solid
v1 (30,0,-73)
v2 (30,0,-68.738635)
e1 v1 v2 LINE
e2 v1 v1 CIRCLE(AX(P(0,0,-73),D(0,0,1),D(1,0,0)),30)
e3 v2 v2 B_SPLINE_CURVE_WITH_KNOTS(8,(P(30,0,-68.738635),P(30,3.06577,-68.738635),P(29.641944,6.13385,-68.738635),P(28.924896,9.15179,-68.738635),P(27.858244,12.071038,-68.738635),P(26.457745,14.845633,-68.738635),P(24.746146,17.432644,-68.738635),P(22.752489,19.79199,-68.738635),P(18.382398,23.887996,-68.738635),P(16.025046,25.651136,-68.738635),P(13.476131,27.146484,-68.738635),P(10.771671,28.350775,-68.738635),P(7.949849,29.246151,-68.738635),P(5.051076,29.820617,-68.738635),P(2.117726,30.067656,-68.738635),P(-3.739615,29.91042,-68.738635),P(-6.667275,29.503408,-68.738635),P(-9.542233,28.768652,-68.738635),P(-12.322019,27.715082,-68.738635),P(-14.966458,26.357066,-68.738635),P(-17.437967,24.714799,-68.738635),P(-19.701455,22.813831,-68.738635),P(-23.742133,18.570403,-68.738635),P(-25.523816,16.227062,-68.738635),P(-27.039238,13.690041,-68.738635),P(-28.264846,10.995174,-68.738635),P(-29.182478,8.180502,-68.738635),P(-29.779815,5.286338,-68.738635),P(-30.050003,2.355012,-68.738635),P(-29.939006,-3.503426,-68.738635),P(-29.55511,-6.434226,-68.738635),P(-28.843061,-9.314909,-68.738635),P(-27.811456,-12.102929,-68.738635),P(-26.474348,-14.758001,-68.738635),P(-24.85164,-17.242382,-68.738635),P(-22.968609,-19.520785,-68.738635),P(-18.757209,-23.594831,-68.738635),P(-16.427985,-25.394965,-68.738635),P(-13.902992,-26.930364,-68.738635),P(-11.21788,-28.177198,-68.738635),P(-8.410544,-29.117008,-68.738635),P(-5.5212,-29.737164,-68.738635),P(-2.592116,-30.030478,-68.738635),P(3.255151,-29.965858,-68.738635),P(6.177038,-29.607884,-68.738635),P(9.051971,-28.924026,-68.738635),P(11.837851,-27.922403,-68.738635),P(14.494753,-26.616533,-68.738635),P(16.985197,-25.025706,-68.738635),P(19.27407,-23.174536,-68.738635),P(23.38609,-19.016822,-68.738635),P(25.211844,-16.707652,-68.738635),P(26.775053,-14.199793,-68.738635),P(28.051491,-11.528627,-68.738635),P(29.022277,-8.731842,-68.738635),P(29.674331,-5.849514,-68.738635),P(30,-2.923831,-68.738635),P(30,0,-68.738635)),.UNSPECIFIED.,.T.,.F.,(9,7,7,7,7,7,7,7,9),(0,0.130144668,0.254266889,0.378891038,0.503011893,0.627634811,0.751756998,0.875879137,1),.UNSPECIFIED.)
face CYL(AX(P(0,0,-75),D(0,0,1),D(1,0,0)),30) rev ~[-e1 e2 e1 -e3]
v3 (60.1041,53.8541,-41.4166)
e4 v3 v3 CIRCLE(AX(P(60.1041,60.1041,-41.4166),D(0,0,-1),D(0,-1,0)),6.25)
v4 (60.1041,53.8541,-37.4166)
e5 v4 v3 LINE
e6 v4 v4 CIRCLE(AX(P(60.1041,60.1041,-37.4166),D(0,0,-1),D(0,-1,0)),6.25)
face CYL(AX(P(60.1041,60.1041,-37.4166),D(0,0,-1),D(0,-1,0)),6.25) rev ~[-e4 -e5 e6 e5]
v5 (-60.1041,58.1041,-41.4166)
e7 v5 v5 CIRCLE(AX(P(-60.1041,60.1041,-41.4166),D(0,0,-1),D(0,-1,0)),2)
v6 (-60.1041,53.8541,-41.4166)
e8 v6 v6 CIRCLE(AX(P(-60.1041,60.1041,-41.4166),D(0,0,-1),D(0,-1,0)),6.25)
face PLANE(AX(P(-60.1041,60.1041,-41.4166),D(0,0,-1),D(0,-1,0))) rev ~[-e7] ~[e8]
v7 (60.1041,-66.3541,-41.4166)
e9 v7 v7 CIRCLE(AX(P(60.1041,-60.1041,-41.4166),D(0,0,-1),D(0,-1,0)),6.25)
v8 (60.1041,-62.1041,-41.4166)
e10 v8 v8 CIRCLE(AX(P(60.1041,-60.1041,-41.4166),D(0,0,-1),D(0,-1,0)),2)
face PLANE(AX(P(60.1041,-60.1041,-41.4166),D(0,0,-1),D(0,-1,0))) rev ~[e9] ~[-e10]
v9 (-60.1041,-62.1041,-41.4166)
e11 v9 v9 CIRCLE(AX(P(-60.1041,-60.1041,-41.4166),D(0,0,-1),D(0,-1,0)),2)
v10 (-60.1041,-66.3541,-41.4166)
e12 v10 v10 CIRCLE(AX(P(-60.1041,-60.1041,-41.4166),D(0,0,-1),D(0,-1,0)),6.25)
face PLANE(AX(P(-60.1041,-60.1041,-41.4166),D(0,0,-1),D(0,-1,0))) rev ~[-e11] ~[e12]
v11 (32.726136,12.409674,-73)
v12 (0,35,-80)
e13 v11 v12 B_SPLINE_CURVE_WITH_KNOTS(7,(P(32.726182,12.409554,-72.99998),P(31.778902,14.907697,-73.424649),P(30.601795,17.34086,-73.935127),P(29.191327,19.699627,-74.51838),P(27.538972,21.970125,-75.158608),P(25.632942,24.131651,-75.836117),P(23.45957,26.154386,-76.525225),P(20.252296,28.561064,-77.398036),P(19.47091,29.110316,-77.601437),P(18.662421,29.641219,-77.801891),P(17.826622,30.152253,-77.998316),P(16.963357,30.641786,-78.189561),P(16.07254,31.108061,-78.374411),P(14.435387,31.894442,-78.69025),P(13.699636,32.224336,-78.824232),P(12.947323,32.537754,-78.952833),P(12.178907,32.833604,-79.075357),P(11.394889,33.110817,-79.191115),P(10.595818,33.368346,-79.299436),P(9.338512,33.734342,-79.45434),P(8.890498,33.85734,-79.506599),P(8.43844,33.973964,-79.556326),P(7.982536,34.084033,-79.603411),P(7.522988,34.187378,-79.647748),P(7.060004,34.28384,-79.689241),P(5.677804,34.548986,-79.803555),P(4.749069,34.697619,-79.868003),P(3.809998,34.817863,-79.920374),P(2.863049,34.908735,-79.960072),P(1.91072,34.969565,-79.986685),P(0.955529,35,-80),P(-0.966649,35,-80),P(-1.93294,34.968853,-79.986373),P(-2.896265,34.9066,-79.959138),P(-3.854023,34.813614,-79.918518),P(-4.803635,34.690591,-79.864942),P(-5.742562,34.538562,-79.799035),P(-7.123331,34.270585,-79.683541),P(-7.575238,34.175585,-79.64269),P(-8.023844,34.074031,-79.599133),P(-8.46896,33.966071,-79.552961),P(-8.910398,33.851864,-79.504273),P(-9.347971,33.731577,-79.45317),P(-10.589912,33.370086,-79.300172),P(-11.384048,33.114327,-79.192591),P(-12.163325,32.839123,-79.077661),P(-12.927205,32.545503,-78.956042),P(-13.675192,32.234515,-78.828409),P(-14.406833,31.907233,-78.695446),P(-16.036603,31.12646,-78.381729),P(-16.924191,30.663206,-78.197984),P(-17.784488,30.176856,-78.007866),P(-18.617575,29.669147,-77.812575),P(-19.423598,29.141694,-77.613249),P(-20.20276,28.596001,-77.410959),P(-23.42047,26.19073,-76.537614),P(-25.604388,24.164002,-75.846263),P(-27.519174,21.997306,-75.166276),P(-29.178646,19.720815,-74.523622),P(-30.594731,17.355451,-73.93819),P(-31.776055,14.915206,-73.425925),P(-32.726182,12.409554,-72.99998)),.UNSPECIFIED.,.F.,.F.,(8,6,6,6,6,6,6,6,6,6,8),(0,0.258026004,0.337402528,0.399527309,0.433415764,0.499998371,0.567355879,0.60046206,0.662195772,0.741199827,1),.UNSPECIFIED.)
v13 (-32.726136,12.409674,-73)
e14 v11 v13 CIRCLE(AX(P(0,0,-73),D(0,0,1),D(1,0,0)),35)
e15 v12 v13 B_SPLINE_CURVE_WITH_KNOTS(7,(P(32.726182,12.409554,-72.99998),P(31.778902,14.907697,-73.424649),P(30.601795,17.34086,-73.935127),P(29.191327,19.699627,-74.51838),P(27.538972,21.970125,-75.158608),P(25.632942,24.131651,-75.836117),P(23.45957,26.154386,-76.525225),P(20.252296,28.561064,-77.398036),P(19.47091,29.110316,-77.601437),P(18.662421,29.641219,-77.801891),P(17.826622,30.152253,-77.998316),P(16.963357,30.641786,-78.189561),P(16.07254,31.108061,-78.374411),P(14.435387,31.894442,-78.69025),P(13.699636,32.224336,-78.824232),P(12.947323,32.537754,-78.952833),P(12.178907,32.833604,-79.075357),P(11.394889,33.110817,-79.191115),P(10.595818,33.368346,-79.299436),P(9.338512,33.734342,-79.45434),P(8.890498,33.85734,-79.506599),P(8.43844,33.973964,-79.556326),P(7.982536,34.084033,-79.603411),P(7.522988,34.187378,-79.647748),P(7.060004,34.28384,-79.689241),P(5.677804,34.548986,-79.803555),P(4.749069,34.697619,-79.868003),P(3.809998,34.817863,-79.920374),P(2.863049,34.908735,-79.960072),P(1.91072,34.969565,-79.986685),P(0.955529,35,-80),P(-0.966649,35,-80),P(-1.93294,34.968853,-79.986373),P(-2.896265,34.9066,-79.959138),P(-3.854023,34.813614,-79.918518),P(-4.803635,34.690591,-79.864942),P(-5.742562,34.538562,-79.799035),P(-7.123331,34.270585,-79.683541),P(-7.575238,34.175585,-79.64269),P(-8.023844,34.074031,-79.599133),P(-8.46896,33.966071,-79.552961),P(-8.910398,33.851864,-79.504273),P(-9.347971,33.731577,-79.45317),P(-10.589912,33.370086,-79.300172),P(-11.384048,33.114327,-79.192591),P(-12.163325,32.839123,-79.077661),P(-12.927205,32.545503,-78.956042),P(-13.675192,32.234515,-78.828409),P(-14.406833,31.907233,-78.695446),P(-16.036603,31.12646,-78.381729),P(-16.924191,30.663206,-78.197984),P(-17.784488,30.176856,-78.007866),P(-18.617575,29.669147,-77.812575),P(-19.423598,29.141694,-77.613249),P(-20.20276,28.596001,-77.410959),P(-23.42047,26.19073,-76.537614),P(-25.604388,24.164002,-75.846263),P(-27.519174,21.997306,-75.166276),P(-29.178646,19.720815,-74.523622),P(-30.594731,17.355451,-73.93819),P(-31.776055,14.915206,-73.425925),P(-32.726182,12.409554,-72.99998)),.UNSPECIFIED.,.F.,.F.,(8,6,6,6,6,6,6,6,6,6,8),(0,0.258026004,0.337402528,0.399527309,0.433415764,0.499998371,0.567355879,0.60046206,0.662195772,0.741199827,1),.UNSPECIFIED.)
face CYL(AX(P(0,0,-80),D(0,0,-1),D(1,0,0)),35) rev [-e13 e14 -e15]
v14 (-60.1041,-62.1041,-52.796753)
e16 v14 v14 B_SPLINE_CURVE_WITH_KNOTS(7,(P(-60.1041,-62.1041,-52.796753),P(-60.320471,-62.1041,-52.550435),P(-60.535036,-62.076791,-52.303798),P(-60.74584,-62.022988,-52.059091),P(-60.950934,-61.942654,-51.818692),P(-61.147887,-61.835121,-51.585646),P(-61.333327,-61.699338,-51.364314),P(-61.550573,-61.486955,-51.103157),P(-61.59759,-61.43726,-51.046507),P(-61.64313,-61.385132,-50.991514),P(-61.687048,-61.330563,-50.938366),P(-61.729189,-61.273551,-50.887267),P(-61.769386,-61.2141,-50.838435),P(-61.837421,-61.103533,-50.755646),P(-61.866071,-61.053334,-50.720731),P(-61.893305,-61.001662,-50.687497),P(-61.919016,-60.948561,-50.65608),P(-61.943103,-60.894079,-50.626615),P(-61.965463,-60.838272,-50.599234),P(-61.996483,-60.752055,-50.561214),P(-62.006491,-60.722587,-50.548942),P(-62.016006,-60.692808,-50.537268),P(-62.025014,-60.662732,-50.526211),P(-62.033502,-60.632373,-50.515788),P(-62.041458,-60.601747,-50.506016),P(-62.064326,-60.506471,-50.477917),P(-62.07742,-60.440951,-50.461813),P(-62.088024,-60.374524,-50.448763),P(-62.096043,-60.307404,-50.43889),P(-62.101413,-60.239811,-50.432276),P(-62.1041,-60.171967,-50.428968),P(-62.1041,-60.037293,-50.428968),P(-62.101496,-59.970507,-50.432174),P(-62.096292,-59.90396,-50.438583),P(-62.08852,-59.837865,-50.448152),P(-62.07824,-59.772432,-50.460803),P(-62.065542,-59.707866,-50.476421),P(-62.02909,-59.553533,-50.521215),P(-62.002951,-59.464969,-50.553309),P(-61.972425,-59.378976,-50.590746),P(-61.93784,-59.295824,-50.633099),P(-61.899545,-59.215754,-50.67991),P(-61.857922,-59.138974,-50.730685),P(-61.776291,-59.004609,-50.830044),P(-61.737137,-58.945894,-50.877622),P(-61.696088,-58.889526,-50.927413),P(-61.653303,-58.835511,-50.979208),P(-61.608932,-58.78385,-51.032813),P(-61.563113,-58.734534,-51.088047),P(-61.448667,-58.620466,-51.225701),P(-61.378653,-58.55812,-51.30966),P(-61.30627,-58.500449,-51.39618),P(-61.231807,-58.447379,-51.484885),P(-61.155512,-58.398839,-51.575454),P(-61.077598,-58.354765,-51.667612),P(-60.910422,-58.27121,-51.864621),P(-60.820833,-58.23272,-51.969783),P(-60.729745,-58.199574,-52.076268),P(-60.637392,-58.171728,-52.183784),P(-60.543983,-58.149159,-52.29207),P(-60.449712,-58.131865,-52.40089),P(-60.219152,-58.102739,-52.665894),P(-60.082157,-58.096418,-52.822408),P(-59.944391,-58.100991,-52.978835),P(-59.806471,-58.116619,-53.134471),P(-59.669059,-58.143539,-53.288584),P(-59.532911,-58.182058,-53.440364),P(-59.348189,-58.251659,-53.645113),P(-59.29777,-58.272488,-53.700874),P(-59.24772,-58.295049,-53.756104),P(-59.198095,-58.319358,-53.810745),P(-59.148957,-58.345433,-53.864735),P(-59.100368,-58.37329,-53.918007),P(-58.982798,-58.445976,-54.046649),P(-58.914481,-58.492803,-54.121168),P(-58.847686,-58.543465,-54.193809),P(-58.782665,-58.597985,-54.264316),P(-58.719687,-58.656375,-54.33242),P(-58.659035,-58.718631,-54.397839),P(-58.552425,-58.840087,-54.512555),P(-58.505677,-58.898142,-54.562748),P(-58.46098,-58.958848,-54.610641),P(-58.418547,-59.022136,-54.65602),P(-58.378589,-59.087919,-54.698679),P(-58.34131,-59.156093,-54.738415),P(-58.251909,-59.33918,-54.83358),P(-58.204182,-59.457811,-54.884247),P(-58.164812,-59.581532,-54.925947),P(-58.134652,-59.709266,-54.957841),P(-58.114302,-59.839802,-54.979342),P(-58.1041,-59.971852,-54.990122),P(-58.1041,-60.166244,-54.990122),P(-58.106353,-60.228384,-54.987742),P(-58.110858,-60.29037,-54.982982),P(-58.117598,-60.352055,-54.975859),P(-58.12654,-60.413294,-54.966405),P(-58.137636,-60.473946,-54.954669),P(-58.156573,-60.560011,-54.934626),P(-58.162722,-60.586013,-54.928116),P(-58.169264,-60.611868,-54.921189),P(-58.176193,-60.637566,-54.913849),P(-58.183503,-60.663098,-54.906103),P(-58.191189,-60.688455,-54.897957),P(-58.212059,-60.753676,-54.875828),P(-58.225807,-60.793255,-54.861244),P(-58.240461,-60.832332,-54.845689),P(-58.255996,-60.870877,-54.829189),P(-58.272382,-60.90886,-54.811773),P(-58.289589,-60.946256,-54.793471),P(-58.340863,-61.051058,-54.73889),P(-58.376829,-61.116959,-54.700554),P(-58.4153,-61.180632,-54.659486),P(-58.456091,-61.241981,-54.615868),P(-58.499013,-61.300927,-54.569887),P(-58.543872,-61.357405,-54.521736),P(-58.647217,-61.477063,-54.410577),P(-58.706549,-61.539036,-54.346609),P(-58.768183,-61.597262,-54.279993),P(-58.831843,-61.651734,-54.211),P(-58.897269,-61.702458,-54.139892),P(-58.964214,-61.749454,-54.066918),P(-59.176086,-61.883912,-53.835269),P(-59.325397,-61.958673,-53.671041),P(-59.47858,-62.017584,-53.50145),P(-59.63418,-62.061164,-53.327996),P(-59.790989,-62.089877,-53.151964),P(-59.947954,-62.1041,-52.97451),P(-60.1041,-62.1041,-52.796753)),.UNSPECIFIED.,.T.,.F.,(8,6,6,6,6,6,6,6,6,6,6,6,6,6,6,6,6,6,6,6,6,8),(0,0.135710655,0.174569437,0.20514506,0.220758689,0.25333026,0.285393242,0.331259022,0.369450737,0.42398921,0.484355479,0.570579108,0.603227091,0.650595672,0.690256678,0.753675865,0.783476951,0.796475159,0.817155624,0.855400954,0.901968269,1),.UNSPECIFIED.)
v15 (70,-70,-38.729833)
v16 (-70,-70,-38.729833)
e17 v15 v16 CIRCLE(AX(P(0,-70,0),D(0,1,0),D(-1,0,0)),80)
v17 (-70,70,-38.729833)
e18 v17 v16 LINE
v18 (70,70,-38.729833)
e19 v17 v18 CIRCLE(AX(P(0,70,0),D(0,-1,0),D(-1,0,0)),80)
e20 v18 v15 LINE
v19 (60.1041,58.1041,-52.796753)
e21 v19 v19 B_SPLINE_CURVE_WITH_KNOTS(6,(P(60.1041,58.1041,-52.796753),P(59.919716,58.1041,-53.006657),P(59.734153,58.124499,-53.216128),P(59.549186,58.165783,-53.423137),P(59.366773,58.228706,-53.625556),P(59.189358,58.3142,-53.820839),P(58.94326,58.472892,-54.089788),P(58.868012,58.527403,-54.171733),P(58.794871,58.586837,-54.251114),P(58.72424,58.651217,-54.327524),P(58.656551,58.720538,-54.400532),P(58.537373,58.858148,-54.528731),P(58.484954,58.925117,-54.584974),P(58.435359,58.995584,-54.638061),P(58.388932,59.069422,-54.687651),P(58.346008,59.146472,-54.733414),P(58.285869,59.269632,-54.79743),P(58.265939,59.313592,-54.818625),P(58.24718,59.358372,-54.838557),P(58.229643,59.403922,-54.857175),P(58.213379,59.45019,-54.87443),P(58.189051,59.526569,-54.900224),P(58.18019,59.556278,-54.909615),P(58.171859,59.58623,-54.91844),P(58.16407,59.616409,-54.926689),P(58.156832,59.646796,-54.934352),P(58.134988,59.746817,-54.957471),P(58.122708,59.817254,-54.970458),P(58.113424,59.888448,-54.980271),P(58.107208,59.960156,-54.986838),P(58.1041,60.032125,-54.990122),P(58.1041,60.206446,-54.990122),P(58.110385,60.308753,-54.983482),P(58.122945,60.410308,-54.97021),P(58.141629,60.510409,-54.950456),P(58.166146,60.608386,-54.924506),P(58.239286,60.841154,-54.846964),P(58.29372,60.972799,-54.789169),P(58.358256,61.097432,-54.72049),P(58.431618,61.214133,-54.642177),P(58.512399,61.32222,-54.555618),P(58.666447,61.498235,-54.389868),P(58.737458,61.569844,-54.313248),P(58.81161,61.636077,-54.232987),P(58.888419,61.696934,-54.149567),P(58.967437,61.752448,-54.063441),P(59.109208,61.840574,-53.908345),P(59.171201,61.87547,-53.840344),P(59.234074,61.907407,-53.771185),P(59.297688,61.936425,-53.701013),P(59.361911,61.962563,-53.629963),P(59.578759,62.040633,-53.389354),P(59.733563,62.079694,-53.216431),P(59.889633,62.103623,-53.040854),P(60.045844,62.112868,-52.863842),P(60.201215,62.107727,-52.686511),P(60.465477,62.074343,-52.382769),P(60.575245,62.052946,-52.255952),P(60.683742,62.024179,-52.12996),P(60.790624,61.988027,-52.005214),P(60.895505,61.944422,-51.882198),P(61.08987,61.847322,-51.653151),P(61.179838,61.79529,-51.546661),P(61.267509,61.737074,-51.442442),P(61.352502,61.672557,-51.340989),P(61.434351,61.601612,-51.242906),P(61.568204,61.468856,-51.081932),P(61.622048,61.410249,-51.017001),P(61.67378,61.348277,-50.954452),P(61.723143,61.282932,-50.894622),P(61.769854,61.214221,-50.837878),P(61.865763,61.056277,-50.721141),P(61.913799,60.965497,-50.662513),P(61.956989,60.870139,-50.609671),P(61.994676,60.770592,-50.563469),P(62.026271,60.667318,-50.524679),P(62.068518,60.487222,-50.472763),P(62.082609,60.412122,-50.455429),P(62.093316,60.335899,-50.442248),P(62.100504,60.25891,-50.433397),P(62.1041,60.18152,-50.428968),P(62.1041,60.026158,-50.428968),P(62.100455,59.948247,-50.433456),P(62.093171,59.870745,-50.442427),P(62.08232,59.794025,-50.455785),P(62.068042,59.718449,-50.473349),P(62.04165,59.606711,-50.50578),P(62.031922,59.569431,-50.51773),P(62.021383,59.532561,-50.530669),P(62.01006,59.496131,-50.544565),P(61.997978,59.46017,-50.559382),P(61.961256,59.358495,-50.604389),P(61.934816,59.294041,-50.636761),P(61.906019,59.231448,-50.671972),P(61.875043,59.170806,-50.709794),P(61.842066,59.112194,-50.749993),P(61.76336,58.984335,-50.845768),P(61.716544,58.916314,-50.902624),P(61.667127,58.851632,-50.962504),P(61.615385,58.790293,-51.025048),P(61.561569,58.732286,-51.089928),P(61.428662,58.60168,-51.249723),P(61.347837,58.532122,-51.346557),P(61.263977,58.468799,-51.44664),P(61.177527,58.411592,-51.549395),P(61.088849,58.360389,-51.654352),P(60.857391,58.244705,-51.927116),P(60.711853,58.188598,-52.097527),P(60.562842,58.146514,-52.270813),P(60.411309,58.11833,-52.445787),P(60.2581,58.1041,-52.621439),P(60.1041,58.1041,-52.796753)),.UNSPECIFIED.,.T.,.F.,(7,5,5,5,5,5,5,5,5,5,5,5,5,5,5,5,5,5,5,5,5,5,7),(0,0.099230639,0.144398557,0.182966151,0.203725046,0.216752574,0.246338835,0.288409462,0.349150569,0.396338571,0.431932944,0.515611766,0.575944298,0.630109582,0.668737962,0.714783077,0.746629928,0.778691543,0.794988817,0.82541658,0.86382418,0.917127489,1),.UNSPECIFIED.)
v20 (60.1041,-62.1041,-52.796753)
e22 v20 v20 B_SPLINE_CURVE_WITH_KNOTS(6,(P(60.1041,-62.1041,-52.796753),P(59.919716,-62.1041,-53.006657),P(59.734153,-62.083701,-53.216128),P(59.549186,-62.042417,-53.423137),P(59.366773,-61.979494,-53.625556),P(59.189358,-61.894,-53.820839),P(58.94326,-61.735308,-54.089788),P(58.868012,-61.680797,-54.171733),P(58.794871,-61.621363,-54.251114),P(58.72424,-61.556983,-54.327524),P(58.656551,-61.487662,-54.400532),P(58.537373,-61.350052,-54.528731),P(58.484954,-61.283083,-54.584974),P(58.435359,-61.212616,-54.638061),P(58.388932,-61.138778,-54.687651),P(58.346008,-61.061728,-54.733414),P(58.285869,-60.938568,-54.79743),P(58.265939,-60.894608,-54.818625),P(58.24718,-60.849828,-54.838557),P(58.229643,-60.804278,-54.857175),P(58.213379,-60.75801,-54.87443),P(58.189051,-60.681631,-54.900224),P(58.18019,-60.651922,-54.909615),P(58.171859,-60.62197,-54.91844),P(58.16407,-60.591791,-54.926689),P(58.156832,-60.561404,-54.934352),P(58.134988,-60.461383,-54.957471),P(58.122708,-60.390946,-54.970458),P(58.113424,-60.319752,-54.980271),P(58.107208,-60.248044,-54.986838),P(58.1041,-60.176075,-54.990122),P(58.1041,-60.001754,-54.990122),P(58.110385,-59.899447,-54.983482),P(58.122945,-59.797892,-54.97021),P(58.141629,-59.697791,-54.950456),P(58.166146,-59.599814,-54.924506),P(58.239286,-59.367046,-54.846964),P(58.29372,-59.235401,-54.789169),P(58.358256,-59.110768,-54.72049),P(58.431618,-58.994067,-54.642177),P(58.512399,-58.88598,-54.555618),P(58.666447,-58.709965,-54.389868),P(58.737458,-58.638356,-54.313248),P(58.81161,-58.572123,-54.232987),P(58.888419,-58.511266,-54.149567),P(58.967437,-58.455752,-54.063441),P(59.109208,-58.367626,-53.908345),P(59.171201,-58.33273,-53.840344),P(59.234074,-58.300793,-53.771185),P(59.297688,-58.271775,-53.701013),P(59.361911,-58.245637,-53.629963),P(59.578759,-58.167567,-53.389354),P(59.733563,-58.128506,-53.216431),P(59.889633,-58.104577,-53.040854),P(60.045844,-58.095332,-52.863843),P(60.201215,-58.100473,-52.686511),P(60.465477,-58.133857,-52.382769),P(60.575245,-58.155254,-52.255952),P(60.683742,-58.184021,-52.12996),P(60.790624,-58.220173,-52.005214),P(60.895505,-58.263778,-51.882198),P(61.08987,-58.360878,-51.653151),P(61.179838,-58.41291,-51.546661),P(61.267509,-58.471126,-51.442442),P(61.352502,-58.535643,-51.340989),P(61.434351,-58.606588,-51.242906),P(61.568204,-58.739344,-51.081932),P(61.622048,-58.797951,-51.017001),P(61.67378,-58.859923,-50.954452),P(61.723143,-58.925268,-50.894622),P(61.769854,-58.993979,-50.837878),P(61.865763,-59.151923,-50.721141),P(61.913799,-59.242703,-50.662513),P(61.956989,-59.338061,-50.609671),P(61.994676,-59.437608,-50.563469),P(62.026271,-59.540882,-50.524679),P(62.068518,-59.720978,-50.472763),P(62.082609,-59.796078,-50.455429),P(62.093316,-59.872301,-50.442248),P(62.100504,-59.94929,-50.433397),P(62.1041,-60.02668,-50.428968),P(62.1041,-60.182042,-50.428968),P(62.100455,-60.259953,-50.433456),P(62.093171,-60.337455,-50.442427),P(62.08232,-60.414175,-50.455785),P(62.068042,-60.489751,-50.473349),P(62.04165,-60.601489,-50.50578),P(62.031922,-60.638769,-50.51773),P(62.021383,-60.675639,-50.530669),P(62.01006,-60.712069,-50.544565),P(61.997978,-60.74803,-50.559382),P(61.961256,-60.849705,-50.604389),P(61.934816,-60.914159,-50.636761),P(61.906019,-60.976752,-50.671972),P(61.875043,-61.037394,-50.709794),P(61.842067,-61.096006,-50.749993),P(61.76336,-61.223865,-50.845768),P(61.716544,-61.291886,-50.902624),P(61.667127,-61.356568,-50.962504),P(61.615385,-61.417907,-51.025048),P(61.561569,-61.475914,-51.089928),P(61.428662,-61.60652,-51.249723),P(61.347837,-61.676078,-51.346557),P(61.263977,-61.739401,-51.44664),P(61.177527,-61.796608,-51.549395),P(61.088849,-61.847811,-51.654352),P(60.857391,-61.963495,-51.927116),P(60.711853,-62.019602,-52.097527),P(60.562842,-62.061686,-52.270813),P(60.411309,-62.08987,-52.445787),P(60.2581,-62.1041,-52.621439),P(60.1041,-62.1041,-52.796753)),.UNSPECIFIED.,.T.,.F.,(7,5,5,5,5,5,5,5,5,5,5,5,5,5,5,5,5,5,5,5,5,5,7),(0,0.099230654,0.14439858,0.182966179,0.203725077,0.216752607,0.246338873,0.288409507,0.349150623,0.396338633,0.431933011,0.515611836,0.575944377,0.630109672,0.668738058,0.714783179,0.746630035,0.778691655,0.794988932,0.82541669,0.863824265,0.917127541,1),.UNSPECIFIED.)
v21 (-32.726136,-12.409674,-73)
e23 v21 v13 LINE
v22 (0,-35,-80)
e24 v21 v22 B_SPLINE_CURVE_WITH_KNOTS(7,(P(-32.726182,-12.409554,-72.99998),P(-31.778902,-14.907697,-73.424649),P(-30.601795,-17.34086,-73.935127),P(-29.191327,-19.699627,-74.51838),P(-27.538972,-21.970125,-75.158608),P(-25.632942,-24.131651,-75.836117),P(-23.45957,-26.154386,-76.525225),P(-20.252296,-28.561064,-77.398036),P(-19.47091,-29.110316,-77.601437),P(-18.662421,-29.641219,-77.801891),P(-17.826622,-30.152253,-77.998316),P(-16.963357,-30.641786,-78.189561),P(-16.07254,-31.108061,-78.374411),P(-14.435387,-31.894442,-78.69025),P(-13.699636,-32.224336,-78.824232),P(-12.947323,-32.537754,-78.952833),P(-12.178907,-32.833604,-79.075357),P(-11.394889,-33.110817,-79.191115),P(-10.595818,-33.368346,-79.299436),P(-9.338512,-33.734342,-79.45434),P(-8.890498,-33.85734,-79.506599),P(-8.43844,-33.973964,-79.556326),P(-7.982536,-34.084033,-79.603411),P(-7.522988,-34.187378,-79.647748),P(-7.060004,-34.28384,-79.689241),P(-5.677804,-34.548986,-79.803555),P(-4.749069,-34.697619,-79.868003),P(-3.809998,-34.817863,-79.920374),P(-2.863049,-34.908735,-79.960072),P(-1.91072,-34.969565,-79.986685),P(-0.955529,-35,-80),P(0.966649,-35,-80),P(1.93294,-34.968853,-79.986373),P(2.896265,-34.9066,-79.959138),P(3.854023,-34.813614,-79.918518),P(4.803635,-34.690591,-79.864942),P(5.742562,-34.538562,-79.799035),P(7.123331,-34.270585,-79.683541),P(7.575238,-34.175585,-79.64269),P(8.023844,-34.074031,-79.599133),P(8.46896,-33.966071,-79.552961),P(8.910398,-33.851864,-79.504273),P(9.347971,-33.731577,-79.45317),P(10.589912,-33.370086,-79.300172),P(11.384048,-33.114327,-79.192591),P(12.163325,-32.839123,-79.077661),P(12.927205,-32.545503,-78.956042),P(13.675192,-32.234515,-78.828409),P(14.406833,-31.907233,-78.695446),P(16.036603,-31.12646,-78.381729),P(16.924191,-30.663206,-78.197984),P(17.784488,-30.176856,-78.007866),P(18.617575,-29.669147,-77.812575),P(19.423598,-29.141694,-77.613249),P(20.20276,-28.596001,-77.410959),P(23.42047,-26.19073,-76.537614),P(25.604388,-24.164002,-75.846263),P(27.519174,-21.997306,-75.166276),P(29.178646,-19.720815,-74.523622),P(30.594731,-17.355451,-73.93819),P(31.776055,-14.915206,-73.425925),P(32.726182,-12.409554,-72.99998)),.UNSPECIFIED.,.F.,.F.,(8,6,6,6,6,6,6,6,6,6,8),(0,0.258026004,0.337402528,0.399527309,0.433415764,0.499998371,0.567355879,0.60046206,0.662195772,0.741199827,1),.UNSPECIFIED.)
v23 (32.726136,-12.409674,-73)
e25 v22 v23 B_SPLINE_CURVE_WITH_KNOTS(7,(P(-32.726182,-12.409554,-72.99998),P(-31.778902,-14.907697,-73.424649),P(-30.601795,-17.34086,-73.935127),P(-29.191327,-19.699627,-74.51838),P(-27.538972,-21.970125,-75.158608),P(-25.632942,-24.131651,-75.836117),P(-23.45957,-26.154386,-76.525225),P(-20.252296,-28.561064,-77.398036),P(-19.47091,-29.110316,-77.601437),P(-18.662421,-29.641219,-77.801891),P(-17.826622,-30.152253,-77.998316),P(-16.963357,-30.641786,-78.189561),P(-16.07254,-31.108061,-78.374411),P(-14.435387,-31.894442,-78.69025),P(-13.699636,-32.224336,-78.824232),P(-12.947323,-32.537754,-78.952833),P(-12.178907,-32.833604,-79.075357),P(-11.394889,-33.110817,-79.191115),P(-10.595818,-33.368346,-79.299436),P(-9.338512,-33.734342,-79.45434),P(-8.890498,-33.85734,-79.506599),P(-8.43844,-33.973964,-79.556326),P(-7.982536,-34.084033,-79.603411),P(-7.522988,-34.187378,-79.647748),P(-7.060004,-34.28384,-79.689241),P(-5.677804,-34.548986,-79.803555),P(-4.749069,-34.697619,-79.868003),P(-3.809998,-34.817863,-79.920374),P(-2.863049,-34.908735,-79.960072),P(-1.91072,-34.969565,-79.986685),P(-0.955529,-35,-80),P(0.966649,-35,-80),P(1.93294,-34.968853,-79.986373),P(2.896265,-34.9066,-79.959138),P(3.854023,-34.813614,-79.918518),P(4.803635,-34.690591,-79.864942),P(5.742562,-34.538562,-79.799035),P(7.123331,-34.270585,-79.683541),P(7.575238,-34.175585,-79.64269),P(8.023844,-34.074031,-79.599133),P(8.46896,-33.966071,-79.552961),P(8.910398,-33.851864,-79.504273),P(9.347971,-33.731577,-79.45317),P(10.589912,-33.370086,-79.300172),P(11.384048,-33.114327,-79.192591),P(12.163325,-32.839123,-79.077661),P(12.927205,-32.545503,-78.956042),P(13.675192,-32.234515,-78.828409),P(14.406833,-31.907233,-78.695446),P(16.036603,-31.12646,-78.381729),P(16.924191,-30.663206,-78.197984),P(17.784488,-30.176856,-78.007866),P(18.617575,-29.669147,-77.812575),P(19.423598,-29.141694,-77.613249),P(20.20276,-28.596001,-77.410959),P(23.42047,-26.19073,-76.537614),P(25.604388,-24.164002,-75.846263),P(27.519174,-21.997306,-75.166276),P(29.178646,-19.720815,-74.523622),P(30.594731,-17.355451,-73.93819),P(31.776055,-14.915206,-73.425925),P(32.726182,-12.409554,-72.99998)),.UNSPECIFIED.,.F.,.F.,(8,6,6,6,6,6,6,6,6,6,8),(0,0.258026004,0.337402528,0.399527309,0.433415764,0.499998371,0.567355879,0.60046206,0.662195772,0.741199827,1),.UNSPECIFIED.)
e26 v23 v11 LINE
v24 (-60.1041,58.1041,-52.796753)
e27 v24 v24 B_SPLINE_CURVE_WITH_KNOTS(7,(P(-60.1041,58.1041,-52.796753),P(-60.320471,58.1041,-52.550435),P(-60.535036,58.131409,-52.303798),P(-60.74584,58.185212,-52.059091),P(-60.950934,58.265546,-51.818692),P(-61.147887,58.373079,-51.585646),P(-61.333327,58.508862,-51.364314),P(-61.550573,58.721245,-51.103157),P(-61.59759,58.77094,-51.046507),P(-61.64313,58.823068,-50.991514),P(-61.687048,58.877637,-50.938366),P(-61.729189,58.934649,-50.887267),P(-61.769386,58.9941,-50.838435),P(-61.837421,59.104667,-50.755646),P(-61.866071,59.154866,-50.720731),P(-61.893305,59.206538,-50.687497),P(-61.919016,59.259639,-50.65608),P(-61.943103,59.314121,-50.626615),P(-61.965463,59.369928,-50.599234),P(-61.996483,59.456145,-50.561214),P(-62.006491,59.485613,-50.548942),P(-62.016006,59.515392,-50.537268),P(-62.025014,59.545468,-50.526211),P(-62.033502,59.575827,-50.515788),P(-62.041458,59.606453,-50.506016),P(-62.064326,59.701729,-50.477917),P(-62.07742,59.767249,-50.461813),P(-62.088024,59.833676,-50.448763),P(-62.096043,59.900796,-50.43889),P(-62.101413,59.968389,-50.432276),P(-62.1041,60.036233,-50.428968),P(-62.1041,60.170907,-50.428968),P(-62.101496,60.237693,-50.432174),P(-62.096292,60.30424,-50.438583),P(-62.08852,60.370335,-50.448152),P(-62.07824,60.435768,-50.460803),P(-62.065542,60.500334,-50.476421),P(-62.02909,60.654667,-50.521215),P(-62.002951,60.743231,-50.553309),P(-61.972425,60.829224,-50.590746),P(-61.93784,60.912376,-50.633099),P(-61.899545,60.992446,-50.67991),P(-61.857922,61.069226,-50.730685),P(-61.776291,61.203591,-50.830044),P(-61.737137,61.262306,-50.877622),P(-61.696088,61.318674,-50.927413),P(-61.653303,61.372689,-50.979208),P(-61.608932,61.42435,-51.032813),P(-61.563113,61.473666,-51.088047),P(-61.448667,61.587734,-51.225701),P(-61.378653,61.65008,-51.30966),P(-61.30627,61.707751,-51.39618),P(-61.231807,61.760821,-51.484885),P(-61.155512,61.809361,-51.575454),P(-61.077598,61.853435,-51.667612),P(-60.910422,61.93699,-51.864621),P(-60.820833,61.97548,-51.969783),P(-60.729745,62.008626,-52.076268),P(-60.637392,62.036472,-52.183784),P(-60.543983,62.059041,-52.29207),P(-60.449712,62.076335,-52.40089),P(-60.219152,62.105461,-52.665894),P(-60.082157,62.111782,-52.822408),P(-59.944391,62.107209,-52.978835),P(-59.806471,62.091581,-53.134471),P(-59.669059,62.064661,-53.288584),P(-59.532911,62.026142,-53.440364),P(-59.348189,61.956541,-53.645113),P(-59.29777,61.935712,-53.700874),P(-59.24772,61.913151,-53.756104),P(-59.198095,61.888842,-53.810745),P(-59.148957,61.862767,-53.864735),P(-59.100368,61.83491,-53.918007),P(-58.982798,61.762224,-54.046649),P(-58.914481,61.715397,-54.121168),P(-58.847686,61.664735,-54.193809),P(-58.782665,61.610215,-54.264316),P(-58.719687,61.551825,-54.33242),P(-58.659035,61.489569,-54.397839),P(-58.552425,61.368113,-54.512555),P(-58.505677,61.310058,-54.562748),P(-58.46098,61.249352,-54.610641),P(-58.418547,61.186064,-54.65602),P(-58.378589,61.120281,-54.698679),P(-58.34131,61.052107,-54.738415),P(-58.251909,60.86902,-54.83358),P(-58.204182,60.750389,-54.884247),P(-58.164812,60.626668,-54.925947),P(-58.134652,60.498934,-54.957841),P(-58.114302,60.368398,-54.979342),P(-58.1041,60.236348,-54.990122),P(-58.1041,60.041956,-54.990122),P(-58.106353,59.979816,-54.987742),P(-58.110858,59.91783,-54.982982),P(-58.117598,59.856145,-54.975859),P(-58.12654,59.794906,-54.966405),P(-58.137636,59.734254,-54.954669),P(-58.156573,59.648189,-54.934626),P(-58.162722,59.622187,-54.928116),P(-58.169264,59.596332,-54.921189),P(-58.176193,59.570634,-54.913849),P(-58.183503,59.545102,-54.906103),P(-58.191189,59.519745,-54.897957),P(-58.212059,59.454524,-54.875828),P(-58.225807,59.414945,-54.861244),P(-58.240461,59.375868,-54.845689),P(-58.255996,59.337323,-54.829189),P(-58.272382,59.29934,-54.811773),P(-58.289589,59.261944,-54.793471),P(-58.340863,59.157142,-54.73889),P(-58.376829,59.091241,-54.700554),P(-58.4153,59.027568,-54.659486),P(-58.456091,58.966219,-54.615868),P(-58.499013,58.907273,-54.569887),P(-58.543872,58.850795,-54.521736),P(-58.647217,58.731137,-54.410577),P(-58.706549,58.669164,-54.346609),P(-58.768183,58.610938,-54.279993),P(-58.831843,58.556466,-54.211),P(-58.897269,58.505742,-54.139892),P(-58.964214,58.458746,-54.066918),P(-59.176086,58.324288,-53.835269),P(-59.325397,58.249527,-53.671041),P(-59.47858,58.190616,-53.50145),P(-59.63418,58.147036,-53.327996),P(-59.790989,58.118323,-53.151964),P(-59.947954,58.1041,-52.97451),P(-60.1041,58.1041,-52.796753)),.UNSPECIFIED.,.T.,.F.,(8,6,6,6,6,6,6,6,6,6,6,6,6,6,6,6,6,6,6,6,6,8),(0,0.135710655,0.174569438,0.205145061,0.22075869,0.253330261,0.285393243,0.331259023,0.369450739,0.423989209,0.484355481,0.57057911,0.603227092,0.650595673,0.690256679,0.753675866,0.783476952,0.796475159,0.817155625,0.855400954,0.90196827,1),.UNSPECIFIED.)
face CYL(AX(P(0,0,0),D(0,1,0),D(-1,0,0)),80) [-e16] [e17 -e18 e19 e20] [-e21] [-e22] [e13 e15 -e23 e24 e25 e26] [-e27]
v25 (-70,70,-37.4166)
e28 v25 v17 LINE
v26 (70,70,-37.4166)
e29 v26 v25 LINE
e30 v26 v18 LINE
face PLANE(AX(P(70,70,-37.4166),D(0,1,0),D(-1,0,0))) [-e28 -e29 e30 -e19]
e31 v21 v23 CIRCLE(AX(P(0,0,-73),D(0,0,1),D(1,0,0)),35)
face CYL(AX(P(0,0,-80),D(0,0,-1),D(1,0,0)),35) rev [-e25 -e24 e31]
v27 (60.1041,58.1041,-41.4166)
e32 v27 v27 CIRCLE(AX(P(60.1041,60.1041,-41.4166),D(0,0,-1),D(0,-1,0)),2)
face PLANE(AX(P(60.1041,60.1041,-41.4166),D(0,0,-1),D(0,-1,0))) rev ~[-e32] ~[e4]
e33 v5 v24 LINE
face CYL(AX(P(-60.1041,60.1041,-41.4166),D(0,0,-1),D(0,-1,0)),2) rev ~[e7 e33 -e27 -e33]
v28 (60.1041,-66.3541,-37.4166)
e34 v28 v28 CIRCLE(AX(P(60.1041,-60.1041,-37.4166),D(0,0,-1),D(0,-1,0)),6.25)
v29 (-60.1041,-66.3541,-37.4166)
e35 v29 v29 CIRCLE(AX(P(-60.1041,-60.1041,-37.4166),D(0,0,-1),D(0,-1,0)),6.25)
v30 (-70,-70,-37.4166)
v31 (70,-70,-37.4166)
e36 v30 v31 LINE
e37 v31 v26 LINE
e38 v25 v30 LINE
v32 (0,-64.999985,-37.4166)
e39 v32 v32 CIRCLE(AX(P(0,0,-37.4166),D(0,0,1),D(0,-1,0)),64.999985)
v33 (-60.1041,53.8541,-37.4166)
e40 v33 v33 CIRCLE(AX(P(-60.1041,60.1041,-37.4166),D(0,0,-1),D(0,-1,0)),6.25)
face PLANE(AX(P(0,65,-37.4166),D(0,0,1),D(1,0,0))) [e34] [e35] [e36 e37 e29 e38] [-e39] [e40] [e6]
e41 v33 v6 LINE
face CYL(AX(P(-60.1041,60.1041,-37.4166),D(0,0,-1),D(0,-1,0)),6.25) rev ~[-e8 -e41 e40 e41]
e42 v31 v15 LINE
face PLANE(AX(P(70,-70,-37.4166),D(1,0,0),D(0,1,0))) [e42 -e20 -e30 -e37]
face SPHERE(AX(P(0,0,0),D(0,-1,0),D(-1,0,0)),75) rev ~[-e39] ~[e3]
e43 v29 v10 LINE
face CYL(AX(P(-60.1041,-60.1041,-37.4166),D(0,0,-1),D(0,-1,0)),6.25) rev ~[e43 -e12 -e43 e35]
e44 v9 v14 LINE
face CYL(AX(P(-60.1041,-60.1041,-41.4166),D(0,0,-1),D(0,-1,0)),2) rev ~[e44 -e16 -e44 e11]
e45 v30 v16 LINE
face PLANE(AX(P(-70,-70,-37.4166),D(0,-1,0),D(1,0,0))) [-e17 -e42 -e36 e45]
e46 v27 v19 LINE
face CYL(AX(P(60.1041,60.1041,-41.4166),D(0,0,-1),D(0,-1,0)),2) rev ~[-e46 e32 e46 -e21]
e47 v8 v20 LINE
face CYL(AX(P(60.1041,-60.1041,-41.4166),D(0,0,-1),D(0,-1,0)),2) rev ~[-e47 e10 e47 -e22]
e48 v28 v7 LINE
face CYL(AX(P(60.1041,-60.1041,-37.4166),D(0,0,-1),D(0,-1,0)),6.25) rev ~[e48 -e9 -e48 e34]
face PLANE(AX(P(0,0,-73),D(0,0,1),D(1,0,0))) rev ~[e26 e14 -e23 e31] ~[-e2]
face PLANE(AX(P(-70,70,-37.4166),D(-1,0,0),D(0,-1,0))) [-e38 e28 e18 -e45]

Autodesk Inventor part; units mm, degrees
sketch "Sketch1" plane through (0, 0, 0) normal (0, 0, 1) x (1, 0, 0)
  line L0 (65, -65) -> (-65, -65)
  line L1 (-65, -65) -> (-65, 65)
  line L2 (-65, 65) -> (65, 65)
  line L3 (65, 65) -> (65, -65)
  line L4 (65, -65) -> (-65, 65) construction
  line L5 (-65, -65) -> (65, 65) construction
  point P0 (0, 0)
  dimension "d0" = 130
  dimension "d1" = 130
extrude "Extrusion1" add sketch "Sketch1" against normal blind 100
sketch "Sketch2" plane through (0, 0, 0) normal (0, 0, 1) x (1, 0, 0)
  arc A0 (0, 75) -> (0, -75) centre (0, 0) ccw
  line L0 (0, 0) -> (0, 75) construction
  line L1 (0, 0) -> (75, 0) construction
  line L2 (0, 0) -> (0, -75) construction
  line L3 (0, 75) -> (0, -75)
  dimension "d4" = 75
  dimension "d5" = 90
  dimension "d6" = 180
revolve "Revolution1" cut sketch "Sketch2" angle 180 about axis through (0, 75, 0) along (0, -1, 0)
ref_plane "Work Plane1" through (0, 65, -37.4166) normal (0, 0, 1) x (1, 0, 0)
sketch "Sketch3" plane through (0, 65, -37.4166) normal (0, 0, 1) x (1, 0, 0)
  line L0 (-65, -130) -> (65, -130)
  line L1 (65, -130) -> (65, 0)
  line L2 (65, 0) -> (-65, 0)
  line L3 (-65, 0) -> (-65, -130)
  line L4 (-65, -130) -> (65, 0) construction
  line L5 (65, -130) -> (-65, 0) construction
  point P0 (0, -65)
  dimension "d8" = 130
  dimension "d9" = 130
extrude "Extrusion2" cut sketch "Sketch3" along normal blind 100
sketch "Sketch4" plane through (0, 65, -37.4166) normal (0, 0, 1) x (1, 0, 0)
  line L0 (-65, -130) -> (65, -130)
  line L1 (65, -130) -> (65, 0)
  line L2 (65, 0) -> (-65, 0)
  line L3 (-65, 0) -> (-65, -130)
  line L4 (-65, -130) -> (65, 0) construction
  line L5 (65, -130) -> (-65, 0) construction
  line L6 (-70, -135) -> (70, -135)
  line L7 (70, -135) -> (70, 5)
  line L8 (70, 5) -> (-70, 5)
  line L9 (-70, 5) -> (-70, -135)
  arc A0 (65, -65) -> (0, 0) centre (0, -65) ccw projected
  line L10 (-70, -135) -> (70, 5) construction
  line L11 (70, -135) -> (-70, 5) construction
  dimension "d12" = 130
  dimension "d13" = 130
  dimension "d14" = 140
  dimension "d15" = 140
extrude "Extrusion3" add sketch "Sketch4" against normal blind 50
sketch "Sketch5" plane through (-65, 65, -100) normal (0, 1, 0) x (1, 0, 0)
  line L0 (0, 0) -> (130, 0)
  line L1 (130, 0) -> (130, -12.5834)
  line L2 (130, -12.5834) -> (0, -12.5834)
  line L3 (0, -12.5834) -> (0, 0)
  point P0 (65, -100)
extrude "Extrusion4" cut sketch "Sketch5" against normal blind 130
ref_plane "Work Plane2" through (0, 0, -75) normal (0, 0, 1) x (1, 0, 0)
sketch "Sketch6" plane through (0, 0, -75) normal (0, 0, 1) x (1, 0, 0)
  circle A0 centre (0, 0) radius 30
  dimension "d20" = 60
extrude "Extrusion5" cut sketch "Sketch6" against normal blind 30 and the other way blind 30
sketch "Sketch7" plane through (0, 0, 0) normal (0, 1, 0) x (-1, 0, 0)
  circle A0 centre (0, 0) radius 80
  circle A1 centre (0, 0) radius 150
  dimension "d25" = 160
  dimension "d26" = 300
extrude "Extrusion6" cut sketch "Sketch7" against normal blind 100 and the other way blind 100
sketch "Sketch8" plane through (0, 0, 0) normal (1, 0, 0) x (0, 1, 0)
  point P0 (0, 0)
ref_plane "Work Plane3" through (65, 0, -37.4166) normal (1, 0, 0) x (0, 1, 0)
sketch "Sketch10" plane through (0, 65, -37.4166) normal (0, 0, 1) x (1, 0, 0)
  circle A0 centre (-60.1041, -4.8959) radius 2
  point P0 (0, -65)
  dimension "d36" = 4
  dimension "d37" = 85
  dimension "d38" = 60.1041
sketch "Sketch11" plane through (0, 65, -37.4166) normal (0, 0, 1) x (1, 0, 0)
  circle A0 centre (60.1041, -4.8959) radius 2
  point P0 (0, -65)
  dimension "d39" = 4
  dimension "d40" = 85
  dimension "d41" = 60.1041
sketch "Sketch12" plane through (0, 65, -37.4166) normal (0, 0, 1) x (1, 0, 0)
  circle A0 centre (-60.1041, -125.1041) radius 2
  point P0 (0, -65)
  dimension "d42" = 4
  dimension "d43" = 85
  dimension "d44" = 60.1041
sketch "Sketch13" plane through (0, 65, -37.4166) normal (0, 0, 1) x (1, 0, 0)
  circle A0 centre (60.1041, -125.1041) radius 2
  point P0 (0, -65)
  dimension "d45" = 4
  dimension "d46" = 85
  dimension "d47" = 60.1041
hole "Hole1" at (-60.1041, 60.1041, -37.4166) direction (0, 0, -1) diameter 4 end through all counterbore diameter 12.5 counterbore depth 4
hole "Hole2" at (60.1041, 60.1041, -37.4166) direction (0, 0, -1) diameter 4 end through all counterbore diameter 12.5 counterbore depth 4
hole "Hole3" at (-60.1041, -60.1041, -37.4166) direction (0, 0, -1) diameter 4 end through all counterbore diameter 12.5 counterbore depth 4
hole "Hole4" at (60.1041, -60.1041, -37.4166) direction (0, 0, -1) diameter 4 end through all counterbore diameter 12.5 counterbore depth 4
thread "Thread1" size "M4x0.7" class "6H" standard "ANSI Metric M Profile" full length
thread "Thread2" size "M4x0.7" class "6H" standard "ANSI Metric M Profile" full length
thread "Thread3" size "M4x0.7" class "6H" standard "ANSI Metric M Profile" full length
thread "Thread4" size "M4x0.7" class "6H" standard "ANSI Metric M Profile" full length
ref_plane "Work Plane4" through (-70, 30, -37.4166) normal (0, 1, 0) x (1, 0, 0)
ref_plane "Work Plane5" through (0, 0, -65) normal (0, 0, 1) x (1, 0, 0)
sketch "Sketch16" plane through (0, 0, 0) normal (0, 1, 0) x (-1, 0, 0)
  circle A0 centre (0, 0) radius 80
  circle A1 centre (0, 0) radius 150
  dimension "d96" = 160
  dimension "d97" = 300
extrude "Extrusion10" cut sketch "Sketch16" along normal blind 100 and the other way blind 100
ref_plane "Work Plane6" through (-70, -30, -37.4166) normal (0, 1, 0) x (1, 0, 0)
ref_plane "Work Plane7" through (0, 0, -80) normal (0, 0, 1) x (1, 0, 0)
sketch "Sketch22" plane through (0, 0, -80) normal (0, 0, 1) x (1, 0, 0)
  circle A0 centre (0, 0) radius 35
  dimension "d131" = 70
extrude "Extrusion15" cut sketch "Sketch22" along normal blind 7
equation "\"d0\" = d1"
equation "\"d9\" = d8"
properties part number "Custom Mirror Design Part 2"
